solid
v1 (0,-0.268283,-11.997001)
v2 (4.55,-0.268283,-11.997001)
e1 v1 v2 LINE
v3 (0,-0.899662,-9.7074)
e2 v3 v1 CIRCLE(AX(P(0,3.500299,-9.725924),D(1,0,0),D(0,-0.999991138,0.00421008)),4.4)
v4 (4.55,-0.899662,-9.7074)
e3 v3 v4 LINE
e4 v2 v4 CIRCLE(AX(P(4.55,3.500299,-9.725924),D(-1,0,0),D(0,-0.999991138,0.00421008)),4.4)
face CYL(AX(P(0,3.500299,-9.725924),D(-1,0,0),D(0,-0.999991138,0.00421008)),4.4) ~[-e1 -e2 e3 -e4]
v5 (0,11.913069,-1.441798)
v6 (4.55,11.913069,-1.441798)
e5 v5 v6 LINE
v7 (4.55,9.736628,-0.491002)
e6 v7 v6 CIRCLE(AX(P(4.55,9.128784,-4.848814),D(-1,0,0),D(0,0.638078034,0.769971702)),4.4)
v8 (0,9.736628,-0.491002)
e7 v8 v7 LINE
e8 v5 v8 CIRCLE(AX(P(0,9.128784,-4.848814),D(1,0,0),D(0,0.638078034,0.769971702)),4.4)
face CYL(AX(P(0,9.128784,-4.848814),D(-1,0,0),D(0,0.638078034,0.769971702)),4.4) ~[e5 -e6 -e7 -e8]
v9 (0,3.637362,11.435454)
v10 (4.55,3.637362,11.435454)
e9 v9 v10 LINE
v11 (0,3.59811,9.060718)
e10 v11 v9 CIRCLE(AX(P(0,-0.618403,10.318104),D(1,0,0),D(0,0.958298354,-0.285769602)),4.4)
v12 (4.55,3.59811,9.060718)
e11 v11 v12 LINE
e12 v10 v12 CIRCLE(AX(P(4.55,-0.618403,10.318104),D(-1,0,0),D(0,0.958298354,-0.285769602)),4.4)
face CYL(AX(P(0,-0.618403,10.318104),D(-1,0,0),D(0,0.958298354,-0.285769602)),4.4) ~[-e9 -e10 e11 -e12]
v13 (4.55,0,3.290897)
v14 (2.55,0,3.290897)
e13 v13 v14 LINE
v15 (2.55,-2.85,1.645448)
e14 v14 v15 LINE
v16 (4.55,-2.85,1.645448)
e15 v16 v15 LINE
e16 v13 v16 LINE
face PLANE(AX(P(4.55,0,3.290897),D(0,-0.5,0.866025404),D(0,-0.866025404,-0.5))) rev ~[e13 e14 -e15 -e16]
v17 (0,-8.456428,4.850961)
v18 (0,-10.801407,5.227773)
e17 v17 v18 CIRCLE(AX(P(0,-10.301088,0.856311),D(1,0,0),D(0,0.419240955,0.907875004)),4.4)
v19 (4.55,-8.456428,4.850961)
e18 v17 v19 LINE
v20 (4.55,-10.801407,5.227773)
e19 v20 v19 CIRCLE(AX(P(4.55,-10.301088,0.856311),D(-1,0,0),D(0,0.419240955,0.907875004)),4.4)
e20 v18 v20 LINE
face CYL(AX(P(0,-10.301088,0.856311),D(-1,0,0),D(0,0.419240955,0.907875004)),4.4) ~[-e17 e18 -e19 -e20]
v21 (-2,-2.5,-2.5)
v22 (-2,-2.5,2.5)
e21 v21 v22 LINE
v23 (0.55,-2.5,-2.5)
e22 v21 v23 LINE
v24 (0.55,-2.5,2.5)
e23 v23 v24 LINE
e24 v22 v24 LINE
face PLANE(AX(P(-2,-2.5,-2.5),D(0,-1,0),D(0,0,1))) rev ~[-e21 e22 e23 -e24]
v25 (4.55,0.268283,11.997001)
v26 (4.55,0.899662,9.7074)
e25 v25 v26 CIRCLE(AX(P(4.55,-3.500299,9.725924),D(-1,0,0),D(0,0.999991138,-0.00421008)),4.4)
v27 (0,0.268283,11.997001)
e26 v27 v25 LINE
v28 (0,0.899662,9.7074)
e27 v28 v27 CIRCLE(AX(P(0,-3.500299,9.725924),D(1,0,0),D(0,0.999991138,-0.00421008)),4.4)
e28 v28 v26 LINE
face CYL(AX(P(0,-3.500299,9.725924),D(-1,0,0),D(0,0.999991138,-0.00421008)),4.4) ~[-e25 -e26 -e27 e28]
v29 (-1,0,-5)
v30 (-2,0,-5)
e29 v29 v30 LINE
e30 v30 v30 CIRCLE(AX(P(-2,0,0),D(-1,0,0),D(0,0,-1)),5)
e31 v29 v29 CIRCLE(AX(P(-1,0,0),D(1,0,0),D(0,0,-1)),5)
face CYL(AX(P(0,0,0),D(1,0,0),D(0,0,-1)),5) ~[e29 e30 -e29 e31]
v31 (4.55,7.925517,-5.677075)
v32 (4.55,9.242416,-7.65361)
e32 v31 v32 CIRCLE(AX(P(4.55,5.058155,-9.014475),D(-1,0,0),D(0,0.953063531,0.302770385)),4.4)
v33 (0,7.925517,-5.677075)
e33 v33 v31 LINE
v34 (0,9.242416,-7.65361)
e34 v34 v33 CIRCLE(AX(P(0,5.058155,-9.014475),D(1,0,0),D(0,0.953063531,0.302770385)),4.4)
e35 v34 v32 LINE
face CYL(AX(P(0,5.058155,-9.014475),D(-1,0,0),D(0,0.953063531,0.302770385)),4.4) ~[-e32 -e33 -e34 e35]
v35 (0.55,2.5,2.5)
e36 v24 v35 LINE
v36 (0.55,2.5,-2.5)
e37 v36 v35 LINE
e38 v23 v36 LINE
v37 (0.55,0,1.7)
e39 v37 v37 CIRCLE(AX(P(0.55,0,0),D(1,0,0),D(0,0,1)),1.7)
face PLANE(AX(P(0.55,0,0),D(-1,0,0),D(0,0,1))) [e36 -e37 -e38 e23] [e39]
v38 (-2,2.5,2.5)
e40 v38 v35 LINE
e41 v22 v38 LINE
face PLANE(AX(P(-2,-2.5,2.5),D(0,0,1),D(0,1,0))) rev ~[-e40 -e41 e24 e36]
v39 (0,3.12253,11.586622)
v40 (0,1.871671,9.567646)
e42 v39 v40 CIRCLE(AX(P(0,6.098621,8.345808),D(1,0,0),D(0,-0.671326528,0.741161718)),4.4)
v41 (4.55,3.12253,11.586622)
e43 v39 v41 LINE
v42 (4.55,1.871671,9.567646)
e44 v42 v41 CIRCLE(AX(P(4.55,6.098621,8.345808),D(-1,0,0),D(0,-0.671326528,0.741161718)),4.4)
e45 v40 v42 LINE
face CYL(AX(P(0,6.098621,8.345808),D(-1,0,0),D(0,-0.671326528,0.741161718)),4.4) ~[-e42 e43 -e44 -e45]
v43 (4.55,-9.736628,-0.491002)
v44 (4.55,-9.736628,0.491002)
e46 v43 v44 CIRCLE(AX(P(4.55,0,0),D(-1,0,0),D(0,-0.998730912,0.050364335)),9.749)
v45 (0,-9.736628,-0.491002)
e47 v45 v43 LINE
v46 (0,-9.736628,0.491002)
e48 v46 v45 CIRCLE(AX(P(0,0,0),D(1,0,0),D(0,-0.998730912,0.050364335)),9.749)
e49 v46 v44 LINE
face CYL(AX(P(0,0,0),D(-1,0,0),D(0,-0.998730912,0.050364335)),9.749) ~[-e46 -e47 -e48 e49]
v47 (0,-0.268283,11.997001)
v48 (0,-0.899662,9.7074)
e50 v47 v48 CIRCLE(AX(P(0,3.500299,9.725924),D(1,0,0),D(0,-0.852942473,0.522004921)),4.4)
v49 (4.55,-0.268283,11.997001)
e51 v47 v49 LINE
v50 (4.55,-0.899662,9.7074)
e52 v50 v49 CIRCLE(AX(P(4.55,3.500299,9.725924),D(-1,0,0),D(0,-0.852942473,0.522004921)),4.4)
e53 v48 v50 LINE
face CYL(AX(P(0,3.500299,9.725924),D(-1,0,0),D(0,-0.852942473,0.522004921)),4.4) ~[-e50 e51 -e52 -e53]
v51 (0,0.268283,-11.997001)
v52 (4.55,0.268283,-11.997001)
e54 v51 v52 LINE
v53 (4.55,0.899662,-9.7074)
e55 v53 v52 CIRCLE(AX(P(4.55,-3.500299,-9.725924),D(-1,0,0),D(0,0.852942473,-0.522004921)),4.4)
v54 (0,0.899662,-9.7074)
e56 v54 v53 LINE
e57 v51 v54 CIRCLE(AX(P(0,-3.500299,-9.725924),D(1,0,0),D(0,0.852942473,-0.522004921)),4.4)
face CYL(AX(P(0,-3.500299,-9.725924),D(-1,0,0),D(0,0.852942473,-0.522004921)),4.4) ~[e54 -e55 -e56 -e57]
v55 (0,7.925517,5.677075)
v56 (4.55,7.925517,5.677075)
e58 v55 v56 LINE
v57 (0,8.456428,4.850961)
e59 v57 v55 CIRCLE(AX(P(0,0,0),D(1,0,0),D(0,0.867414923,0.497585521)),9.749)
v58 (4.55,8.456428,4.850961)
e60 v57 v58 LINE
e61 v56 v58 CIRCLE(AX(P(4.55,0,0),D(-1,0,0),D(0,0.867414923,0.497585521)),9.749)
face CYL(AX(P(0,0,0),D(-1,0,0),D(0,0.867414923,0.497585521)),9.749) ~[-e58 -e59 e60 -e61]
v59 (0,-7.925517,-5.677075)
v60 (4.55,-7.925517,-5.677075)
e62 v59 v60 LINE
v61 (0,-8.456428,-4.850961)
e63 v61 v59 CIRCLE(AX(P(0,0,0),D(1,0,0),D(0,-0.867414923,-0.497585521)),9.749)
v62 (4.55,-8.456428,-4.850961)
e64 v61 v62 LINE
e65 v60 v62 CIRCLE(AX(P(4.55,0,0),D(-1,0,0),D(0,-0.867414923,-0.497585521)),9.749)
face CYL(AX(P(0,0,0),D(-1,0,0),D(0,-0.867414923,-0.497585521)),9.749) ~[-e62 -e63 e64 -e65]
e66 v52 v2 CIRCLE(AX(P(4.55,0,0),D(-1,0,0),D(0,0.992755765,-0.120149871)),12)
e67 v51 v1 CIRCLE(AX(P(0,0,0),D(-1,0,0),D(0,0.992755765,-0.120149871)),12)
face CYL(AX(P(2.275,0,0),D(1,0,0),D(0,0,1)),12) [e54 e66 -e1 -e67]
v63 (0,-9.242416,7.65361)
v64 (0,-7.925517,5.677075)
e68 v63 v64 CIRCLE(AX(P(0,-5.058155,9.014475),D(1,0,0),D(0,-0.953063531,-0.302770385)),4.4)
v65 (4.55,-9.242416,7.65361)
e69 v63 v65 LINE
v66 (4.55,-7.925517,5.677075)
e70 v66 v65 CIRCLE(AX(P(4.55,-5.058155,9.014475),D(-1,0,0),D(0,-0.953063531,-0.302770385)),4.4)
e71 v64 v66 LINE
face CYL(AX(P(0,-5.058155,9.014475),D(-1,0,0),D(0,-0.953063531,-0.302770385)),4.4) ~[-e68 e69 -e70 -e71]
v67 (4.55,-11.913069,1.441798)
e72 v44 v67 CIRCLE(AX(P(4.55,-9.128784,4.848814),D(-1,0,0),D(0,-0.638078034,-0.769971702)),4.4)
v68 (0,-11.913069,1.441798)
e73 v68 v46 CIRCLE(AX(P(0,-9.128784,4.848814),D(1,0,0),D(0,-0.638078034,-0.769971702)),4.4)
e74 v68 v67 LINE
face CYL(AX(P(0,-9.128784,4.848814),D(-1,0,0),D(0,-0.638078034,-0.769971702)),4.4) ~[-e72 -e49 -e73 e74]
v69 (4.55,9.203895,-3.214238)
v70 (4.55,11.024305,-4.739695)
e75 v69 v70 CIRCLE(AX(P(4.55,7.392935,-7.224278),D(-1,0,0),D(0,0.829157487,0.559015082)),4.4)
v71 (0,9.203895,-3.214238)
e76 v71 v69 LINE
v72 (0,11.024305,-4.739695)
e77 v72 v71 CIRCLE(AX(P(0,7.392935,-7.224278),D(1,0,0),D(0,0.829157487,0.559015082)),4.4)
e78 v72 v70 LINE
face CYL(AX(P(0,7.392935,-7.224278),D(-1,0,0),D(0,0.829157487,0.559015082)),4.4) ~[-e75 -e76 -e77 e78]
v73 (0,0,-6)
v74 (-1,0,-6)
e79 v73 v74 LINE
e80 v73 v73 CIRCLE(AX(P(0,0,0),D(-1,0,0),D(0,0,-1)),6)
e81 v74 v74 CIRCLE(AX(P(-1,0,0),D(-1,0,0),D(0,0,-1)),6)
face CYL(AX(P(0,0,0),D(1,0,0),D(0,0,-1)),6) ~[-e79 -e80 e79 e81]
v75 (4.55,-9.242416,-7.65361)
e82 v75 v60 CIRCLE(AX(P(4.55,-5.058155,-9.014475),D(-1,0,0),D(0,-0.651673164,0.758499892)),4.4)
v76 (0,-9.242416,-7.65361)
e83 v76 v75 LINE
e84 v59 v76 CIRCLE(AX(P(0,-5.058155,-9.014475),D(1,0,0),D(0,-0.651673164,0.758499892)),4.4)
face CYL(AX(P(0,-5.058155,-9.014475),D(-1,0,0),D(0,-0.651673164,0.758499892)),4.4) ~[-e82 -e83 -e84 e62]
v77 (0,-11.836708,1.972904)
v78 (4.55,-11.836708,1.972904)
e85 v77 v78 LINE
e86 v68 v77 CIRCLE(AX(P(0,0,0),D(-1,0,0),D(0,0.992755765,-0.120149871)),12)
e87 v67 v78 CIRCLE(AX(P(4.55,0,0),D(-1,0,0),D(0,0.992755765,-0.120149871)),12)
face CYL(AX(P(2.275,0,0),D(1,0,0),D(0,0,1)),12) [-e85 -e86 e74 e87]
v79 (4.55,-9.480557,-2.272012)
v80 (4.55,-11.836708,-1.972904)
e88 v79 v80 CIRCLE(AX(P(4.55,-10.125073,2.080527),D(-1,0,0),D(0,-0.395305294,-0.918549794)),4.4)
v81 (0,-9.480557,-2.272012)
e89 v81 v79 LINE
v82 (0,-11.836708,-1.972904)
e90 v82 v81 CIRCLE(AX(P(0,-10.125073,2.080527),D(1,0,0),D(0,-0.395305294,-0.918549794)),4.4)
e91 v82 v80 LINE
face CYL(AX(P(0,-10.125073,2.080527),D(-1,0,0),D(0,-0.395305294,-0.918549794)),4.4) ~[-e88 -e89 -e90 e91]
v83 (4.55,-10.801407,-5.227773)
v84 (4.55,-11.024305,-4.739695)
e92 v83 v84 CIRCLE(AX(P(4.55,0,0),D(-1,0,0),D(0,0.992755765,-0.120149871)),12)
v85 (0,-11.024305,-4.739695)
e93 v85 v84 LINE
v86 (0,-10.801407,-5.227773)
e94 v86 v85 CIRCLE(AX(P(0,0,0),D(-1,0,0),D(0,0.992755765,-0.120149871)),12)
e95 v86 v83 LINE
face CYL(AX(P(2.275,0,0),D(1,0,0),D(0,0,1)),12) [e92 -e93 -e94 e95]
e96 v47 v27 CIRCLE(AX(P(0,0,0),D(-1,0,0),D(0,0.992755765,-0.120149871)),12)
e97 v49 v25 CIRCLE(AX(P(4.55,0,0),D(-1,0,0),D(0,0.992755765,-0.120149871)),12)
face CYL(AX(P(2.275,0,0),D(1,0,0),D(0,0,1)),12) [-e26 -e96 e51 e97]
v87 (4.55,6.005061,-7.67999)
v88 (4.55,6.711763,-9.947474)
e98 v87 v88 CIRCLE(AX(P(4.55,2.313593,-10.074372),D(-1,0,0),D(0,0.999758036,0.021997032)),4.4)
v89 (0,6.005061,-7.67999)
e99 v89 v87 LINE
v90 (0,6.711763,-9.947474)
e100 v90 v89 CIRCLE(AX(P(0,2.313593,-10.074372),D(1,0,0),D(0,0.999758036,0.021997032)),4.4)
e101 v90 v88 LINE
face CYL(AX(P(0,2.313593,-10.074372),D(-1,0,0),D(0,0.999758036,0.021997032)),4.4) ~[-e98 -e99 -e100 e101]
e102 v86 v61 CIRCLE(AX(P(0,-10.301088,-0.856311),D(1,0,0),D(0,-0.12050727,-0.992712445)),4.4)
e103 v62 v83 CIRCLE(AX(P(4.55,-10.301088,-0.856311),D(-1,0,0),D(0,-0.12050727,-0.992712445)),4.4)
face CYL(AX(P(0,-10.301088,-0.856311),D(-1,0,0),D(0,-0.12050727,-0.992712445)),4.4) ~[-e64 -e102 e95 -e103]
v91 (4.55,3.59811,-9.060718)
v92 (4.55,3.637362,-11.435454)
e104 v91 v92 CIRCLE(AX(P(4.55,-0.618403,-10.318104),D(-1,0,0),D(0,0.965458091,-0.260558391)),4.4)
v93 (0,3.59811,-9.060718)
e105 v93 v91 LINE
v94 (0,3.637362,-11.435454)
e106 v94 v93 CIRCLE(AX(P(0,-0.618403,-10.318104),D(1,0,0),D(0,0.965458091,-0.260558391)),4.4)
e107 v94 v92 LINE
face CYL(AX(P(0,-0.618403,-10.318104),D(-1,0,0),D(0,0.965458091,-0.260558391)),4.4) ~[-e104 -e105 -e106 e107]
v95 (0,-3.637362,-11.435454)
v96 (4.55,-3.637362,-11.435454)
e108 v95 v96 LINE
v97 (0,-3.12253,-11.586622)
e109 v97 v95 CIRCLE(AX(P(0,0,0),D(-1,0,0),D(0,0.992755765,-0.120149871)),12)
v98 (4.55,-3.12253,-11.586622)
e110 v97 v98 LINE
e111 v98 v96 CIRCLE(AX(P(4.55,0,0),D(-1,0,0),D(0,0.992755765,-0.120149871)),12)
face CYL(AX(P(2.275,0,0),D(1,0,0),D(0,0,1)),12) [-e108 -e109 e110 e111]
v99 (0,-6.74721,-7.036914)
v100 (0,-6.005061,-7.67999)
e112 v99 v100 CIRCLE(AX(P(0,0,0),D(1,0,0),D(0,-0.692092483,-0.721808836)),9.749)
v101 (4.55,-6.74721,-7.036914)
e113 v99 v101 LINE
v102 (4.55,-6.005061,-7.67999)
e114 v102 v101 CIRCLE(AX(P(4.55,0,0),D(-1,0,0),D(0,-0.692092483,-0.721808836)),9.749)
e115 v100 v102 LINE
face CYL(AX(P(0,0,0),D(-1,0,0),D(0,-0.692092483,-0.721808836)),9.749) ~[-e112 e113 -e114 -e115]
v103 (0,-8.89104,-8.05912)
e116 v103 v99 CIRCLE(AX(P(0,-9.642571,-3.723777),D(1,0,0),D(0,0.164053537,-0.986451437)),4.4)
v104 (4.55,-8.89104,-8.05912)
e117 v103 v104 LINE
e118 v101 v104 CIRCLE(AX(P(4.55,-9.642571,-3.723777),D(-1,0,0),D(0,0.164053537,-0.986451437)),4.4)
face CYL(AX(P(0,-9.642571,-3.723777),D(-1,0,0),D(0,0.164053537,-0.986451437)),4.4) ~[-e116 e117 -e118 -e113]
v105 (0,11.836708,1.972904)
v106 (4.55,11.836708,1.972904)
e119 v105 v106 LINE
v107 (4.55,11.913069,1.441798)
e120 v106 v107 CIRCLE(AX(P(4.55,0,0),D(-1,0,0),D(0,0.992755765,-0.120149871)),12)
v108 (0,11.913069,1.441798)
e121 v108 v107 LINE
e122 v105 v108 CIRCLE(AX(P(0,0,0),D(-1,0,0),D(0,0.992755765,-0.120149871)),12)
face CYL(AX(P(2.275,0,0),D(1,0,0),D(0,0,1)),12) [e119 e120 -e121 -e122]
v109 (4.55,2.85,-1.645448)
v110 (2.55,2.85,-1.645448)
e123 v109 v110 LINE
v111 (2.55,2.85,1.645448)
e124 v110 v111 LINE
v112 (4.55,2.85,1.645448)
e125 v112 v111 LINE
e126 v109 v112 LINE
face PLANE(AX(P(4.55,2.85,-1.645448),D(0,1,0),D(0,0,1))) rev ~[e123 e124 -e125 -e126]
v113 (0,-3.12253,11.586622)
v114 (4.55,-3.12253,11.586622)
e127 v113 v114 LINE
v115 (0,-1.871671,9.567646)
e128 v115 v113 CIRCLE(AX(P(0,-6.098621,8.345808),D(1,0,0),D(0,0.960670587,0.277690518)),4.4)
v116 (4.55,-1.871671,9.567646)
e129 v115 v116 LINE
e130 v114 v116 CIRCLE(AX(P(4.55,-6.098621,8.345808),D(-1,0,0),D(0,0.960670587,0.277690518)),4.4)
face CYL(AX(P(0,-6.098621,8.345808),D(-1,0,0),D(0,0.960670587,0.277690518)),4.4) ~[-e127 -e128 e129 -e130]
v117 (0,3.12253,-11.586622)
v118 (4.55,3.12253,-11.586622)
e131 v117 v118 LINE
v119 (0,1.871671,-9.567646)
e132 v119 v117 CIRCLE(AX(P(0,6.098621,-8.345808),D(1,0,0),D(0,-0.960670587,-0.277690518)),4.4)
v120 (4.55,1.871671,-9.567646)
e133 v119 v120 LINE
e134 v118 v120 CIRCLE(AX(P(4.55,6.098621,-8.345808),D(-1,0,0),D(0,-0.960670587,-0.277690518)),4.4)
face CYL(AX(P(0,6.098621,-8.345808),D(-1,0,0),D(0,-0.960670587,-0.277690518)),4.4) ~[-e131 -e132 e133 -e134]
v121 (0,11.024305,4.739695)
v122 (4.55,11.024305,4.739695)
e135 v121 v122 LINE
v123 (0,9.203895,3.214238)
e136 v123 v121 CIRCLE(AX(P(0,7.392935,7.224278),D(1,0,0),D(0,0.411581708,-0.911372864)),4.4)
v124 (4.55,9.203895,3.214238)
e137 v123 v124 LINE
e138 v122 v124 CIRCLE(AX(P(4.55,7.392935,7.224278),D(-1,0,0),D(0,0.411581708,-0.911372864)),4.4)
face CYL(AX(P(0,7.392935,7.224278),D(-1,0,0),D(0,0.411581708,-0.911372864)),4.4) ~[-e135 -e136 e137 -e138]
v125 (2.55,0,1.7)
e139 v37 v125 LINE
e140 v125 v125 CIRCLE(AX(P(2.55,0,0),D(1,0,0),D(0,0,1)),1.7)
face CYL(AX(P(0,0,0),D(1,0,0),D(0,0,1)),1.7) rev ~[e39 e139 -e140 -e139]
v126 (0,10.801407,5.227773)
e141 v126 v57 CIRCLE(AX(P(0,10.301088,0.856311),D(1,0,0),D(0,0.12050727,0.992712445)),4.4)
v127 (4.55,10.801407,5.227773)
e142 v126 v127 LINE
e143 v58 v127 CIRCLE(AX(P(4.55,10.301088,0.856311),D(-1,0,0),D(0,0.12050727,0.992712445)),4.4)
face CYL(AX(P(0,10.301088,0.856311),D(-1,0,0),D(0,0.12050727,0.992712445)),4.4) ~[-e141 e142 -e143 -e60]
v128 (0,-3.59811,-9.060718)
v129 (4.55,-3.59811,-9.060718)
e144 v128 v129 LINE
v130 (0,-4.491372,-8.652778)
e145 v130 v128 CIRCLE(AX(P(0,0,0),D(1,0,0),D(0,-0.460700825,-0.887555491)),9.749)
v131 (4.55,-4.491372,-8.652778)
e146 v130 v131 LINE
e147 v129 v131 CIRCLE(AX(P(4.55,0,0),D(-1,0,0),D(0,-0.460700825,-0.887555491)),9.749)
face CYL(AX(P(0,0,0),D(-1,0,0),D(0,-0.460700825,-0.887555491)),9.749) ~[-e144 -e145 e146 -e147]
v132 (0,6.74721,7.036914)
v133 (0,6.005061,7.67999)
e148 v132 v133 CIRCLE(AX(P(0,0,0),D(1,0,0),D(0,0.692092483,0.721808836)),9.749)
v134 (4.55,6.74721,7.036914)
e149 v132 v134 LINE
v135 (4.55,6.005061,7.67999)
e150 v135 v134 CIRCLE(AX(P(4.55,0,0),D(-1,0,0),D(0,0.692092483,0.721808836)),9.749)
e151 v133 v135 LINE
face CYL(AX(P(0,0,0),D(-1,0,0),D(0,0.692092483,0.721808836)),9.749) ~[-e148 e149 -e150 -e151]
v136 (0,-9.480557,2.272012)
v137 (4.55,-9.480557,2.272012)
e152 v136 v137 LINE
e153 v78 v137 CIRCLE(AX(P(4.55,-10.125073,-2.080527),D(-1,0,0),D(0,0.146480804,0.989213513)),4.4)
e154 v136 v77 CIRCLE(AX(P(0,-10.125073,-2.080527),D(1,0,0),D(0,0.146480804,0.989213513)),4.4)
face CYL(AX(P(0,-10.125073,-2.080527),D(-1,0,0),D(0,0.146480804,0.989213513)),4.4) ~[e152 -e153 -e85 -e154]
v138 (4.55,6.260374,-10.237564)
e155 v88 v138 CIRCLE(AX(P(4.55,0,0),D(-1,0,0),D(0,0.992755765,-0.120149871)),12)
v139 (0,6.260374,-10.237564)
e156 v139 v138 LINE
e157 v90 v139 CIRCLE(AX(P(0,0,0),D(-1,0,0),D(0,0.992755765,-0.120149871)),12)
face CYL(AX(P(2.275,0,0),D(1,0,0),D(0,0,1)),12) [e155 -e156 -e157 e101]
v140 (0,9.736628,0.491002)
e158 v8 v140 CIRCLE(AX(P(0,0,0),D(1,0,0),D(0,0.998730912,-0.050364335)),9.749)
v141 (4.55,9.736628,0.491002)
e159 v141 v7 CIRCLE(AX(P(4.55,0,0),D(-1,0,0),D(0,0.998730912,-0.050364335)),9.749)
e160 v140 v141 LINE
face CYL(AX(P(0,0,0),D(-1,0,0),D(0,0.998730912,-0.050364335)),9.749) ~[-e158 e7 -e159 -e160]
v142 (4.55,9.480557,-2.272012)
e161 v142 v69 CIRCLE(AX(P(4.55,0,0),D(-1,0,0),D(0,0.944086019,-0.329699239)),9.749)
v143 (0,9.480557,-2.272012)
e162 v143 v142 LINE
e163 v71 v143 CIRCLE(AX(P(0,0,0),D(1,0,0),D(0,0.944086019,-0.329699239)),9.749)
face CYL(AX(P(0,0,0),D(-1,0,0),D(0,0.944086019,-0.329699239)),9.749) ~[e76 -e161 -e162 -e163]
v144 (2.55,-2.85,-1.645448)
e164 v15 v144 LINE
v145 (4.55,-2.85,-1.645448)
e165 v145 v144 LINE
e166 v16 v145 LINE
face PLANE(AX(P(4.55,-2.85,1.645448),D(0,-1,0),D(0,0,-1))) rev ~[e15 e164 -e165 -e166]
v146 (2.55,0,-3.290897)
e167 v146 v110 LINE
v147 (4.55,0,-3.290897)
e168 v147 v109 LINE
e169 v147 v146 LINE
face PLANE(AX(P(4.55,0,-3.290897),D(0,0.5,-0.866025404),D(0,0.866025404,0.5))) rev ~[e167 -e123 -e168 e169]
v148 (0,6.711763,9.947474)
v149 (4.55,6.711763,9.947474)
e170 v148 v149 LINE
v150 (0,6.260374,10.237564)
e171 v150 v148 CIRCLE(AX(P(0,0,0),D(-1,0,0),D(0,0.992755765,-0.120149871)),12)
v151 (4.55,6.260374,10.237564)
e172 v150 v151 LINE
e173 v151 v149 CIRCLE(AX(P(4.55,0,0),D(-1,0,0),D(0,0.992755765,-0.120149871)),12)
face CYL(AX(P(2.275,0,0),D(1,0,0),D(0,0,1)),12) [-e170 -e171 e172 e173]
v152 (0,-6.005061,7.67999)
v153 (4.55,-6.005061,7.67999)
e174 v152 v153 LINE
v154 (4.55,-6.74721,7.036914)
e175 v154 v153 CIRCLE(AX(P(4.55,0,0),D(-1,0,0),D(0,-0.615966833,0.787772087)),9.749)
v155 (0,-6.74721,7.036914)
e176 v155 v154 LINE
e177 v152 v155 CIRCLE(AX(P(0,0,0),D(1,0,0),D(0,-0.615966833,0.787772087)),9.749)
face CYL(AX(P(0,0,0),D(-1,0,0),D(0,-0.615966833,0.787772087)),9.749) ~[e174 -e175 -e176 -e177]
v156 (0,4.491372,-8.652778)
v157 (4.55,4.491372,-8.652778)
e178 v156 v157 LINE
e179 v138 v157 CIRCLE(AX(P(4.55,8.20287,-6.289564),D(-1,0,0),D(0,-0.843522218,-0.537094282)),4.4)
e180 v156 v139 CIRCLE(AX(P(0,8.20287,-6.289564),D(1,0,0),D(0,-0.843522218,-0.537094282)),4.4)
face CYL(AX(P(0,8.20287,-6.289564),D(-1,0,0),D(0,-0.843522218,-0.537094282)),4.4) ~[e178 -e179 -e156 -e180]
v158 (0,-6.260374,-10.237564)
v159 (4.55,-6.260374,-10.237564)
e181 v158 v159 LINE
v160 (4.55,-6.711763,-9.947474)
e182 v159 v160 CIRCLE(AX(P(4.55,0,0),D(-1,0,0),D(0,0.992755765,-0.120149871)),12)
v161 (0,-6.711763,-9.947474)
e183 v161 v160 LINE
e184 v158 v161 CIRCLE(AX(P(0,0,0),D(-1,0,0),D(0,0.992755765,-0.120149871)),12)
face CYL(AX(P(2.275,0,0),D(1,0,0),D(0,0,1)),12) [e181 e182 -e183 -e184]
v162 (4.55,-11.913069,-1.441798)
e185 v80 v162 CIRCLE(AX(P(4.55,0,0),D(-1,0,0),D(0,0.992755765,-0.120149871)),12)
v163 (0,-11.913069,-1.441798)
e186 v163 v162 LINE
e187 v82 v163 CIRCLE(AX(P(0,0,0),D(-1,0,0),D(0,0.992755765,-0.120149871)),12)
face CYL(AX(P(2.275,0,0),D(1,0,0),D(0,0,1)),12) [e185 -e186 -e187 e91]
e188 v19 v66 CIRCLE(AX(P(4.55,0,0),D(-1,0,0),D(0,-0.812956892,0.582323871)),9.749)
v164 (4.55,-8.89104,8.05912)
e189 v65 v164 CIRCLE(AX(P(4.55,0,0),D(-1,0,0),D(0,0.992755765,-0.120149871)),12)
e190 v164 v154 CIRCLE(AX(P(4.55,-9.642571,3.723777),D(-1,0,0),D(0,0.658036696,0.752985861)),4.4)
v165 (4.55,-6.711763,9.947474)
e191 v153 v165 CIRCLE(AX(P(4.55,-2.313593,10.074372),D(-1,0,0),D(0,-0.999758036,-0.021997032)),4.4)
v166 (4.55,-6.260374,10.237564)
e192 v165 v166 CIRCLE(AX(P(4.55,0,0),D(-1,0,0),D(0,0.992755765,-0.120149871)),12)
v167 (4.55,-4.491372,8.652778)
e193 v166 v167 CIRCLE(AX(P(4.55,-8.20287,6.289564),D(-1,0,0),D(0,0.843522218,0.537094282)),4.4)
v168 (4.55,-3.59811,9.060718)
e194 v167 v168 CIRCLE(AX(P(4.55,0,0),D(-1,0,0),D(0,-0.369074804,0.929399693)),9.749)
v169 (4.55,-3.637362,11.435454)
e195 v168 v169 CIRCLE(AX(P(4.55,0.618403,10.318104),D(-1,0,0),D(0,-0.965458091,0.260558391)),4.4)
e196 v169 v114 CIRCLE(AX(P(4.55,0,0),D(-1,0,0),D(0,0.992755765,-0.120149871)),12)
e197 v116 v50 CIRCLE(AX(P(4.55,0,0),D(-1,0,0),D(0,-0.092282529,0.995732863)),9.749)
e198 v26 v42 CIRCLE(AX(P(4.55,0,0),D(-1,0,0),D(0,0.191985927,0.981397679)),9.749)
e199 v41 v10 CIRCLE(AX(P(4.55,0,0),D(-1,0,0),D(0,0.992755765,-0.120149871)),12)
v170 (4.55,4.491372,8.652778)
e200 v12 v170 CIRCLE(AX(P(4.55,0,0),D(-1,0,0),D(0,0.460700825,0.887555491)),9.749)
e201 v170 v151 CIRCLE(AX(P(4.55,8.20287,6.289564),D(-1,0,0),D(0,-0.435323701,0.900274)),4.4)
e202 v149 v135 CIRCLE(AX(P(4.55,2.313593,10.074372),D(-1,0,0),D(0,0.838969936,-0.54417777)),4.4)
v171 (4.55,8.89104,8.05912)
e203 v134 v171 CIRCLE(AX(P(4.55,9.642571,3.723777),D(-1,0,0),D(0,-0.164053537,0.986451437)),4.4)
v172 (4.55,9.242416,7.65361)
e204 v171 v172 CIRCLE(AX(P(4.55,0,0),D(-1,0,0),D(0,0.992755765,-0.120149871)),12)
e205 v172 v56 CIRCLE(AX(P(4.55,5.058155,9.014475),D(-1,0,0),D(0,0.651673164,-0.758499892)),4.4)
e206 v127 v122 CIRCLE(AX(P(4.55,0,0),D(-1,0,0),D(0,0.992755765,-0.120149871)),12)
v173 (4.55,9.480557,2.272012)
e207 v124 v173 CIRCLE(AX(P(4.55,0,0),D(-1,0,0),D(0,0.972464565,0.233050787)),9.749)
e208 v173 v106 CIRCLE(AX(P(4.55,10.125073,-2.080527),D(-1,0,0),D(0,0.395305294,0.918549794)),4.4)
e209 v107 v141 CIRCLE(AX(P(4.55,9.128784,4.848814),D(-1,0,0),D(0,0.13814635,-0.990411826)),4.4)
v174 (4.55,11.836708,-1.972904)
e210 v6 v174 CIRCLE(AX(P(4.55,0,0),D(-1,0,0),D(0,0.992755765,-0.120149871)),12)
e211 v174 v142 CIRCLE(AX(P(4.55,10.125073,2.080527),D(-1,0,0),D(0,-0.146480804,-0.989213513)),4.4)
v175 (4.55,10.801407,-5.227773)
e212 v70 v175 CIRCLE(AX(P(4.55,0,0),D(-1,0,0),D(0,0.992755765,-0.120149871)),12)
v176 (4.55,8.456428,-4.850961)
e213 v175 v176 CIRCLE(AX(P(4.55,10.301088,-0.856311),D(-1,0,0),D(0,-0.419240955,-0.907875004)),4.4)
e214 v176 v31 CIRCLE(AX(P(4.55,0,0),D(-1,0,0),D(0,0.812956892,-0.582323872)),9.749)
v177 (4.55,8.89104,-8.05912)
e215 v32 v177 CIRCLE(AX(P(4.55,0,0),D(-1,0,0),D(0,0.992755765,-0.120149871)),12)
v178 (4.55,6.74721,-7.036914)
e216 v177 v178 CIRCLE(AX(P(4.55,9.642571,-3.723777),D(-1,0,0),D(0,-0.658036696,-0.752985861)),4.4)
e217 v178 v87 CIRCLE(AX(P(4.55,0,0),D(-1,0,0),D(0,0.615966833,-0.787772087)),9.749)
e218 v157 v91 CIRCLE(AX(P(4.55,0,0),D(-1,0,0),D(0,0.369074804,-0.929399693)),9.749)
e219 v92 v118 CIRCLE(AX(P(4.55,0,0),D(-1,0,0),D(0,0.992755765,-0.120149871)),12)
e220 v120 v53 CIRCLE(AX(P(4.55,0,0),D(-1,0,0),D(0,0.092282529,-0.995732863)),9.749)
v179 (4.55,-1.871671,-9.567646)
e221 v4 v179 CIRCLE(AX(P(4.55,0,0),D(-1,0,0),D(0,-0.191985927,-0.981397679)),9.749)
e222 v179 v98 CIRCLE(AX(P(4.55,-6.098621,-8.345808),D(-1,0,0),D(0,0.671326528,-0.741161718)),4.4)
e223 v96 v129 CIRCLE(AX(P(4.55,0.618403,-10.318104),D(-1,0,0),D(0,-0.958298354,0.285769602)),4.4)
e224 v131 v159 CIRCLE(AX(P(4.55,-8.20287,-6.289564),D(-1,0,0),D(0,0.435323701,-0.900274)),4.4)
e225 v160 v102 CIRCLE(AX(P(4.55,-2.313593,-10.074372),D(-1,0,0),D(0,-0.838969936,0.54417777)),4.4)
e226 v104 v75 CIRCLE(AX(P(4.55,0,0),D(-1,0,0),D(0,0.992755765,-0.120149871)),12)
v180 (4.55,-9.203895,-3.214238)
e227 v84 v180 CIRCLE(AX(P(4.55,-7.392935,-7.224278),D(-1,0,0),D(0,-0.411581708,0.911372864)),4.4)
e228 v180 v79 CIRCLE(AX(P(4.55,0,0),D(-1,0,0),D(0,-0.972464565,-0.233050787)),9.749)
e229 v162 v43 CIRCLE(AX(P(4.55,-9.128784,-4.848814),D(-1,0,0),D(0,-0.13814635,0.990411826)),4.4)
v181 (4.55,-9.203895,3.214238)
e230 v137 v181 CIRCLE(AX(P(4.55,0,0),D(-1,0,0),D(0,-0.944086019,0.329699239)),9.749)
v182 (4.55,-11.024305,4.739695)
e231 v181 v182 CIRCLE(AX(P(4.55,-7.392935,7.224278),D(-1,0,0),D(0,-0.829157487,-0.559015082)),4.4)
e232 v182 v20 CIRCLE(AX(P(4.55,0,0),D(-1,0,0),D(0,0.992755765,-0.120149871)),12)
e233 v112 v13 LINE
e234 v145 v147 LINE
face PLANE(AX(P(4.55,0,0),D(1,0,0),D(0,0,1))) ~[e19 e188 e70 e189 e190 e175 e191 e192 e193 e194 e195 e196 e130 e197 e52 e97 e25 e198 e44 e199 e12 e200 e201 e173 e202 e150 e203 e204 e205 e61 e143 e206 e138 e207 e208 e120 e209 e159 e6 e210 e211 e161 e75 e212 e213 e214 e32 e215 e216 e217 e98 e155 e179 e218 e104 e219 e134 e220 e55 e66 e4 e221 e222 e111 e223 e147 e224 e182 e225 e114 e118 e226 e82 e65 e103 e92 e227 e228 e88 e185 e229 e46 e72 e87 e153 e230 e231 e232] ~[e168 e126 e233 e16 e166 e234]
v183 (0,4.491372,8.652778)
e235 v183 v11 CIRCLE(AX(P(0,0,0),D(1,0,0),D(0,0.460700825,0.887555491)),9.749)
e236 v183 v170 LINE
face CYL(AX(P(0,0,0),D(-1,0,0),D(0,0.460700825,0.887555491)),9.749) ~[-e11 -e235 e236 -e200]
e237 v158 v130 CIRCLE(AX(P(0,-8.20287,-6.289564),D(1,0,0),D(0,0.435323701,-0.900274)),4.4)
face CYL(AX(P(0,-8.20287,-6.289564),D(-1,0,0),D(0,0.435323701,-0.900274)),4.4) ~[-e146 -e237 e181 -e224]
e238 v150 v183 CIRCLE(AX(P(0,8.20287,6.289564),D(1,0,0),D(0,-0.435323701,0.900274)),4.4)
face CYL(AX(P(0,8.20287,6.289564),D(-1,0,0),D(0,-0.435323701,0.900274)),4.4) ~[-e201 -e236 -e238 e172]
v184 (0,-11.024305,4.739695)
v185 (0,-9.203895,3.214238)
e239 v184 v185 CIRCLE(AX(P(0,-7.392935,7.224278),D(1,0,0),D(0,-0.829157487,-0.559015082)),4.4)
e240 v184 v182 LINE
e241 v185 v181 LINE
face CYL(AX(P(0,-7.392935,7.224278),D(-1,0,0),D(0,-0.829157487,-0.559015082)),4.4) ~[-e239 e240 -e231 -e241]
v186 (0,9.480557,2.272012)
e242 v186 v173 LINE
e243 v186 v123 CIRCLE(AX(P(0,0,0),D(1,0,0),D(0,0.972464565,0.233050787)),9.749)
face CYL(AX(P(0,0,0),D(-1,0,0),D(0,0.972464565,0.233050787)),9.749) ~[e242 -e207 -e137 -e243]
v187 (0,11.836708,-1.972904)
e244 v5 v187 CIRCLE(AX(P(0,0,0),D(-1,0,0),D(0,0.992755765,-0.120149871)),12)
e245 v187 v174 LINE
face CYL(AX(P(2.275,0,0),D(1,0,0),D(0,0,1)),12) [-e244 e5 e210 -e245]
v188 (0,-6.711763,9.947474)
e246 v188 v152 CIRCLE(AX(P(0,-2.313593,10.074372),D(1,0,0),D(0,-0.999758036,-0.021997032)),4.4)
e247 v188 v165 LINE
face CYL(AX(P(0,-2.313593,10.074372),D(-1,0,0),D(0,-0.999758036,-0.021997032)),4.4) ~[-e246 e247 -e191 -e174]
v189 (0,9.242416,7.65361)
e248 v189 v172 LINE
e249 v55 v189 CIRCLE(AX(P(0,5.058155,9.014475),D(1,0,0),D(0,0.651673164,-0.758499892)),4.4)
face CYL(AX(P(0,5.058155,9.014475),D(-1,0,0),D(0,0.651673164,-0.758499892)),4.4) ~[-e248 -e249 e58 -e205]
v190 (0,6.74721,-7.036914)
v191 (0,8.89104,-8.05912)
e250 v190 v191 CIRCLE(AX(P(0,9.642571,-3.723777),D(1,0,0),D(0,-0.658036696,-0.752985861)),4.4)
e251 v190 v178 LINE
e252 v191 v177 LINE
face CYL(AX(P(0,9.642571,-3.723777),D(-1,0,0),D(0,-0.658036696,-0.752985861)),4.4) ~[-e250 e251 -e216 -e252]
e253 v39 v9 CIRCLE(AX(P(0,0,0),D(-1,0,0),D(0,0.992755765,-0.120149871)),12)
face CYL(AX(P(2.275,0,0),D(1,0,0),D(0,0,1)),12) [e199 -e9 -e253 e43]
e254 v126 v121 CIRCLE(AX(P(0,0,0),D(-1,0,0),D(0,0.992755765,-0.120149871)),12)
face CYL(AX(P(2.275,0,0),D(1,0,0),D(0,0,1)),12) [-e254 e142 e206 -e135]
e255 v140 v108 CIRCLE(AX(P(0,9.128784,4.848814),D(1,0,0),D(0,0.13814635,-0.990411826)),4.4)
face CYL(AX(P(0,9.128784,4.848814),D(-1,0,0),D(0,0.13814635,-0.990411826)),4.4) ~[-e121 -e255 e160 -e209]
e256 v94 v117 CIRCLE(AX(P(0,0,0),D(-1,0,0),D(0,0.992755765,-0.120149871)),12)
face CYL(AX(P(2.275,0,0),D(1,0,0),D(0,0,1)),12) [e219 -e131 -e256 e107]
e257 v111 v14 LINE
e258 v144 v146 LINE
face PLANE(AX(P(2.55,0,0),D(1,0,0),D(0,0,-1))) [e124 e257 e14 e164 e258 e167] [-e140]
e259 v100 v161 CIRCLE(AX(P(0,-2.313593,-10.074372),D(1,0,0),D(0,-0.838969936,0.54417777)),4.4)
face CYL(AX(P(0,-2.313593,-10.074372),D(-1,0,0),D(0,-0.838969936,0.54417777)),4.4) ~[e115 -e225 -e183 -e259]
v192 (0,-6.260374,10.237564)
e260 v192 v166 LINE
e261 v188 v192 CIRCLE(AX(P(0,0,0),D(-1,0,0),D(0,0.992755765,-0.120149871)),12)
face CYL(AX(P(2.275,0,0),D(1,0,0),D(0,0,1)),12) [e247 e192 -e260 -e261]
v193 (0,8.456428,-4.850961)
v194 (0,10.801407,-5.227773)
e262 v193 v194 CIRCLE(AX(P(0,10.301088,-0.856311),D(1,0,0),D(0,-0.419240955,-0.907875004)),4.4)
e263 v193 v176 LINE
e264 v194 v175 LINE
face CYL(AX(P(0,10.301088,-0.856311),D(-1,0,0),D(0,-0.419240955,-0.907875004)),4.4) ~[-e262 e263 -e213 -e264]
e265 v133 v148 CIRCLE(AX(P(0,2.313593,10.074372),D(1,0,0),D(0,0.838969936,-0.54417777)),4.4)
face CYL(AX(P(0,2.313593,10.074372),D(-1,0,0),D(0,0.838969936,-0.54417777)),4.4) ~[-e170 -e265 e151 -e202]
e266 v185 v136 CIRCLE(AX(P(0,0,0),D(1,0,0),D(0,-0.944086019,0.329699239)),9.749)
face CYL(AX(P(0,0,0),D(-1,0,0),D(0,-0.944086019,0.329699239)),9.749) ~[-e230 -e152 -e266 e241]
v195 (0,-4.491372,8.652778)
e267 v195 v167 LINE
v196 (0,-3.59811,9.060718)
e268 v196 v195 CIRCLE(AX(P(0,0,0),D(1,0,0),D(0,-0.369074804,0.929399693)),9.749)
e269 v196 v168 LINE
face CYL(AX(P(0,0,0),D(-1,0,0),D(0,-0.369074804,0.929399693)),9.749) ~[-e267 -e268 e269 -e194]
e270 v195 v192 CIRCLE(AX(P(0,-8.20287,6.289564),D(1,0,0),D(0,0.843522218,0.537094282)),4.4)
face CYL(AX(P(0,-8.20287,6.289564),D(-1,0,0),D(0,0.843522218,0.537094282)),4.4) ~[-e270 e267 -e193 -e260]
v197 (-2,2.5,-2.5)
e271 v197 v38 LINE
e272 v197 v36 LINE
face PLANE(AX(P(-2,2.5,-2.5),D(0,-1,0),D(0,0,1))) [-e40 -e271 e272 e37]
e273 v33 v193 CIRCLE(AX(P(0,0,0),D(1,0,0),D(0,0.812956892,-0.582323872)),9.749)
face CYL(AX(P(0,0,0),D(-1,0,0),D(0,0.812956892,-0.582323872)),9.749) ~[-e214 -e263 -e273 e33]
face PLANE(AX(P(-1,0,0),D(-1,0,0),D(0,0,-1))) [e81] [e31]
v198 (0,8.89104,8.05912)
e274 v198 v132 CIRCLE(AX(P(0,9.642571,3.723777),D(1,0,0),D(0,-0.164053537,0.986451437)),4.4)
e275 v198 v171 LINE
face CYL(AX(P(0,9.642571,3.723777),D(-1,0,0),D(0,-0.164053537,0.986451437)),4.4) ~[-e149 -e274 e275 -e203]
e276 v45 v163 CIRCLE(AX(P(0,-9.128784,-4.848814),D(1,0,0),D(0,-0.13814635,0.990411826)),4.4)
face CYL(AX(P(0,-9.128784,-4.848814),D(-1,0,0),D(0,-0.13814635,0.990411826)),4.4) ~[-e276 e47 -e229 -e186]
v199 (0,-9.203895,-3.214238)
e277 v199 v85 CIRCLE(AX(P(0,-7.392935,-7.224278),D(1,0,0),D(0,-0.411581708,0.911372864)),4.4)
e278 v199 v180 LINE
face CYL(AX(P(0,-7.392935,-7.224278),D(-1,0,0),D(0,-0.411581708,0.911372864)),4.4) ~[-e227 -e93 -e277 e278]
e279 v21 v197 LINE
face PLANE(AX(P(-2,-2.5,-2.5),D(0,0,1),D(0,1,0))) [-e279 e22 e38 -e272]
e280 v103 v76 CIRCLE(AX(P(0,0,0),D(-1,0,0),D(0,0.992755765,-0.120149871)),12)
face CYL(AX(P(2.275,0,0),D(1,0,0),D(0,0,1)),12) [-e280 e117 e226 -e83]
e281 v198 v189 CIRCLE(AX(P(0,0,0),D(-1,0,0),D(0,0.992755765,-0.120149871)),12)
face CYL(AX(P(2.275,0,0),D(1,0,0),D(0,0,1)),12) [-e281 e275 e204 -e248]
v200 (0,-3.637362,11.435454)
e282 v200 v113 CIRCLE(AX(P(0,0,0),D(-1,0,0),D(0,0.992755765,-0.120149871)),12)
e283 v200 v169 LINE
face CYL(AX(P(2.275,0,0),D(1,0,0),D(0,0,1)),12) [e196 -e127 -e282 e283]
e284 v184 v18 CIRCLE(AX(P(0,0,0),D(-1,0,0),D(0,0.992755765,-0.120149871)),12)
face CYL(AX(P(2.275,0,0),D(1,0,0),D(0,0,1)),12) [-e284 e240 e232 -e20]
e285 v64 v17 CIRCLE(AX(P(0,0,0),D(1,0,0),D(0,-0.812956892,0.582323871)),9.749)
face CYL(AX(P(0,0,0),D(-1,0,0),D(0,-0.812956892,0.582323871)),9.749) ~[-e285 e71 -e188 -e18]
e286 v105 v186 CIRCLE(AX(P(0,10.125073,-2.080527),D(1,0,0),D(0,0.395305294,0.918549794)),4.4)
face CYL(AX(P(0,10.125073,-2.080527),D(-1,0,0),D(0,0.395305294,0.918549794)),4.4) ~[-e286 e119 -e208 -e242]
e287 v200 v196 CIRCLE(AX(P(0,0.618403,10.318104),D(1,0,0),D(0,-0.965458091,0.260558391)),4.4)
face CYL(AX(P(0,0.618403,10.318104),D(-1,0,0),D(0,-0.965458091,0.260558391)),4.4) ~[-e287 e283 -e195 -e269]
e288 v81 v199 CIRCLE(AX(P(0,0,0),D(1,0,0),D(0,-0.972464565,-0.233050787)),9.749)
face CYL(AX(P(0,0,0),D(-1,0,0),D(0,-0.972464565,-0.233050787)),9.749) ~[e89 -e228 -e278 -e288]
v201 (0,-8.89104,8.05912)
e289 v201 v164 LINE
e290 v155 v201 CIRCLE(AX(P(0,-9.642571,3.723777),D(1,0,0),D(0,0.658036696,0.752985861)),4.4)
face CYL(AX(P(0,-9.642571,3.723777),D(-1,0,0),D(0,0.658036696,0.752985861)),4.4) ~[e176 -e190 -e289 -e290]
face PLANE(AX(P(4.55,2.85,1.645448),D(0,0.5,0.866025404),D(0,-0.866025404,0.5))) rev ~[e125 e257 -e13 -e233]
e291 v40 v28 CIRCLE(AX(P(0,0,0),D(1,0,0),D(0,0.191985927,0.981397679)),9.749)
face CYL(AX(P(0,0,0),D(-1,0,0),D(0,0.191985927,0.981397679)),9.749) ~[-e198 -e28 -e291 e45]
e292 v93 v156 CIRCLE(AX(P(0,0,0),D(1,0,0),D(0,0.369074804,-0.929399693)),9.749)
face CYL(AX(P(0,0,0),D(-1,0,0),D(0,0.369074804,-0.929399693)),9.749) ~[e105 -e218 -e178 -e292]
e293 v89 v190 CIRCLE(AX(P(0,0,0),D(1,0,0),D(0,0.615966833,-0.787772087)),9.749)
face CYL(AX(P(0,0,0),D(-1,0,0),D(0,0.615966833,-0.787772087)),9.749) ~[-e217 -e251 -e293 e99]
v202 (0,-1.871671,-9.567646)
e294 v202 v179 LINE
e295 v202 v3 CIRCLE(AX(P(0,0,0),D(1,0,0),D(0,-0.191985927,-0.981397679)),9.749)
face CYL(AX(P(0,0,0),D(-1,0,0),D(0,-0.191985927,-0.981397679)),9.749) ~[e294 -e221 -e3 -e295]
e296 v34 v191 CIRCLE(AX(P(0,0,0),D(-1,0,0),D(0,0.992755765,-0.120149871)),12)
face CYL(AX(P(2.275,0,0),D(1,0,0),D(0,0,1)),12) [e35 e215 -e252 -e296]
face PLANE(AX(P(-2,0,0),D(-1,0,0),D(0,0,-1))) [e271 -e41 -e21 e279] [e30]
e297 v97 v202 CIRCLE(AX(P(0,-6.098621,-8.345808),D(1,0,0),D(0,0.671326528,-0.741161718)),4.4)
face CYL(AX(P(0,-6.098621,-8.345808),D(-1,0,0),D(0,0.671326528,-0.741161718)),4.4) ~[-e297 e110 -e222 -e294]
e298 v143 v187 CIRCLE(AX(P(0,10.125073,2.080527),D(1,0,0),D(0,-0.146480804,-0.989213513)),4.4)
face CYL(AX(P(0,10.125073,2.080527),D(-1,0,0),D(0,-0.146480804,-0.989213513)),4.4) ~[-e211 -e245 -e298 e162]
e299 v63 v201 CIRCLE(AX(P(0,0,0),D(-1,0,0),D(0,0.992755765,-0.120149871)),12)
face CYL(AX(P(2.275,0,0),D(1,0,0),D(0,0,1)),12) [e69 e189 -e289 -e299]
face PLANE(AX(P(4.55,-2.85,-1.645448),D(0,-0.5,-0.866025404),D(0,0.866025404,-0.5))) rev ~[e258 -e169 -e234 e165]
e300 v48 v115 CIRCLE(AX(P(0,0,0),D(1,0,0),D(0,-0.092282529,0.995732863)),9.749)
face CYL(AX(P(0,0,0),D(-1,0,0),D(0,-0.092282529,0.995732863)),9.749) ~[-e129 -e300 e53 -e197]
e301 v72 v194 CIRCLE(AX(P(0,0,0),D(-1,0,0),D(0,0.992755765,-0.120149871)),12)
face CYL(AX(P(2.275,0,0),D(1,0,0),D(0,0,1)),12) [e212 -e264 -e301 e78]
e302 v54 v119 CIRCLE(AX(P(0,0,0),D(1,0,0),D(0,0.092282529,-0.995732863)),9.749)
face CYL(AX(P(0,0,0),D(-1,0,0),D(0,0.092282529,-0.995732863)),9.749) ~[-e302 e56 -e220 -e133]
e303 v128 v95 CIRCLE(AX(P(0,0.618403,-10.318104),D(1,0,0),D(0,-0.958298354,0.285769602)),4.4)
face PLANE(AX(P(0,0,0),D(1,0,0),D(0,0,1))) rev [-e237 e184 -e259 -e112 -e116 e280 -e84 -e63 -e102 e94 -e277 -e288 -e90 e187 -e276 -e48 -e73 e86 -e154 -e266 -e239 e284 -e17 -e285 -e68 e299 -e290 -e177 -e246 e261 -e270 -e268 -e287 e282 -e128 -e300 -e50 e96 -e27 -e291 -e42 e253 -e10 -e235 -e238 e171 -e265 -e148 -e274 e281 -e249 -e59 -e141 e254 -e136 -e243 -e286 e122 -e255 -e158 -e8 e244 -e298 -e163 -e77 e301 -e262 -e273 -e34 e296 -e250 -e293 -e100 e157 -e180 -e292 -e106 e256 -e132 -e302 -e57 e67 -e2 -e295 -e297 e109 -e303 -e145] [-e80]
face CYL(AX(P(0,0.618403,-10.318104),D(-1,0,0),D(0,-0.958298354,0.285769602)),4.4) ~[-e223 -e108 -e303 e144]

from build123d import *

# Parameters (mm, degrees)
BASPROSKE_W         = 4.55
BASPROSKE_H         = 12
TOOTHCUT_DEPTH      = 18.569931702
TEETHCUTS_COUNT     = 22
TEETHCUTS_ANGLE     = 343.636363636
BORSKE_R            = 1.7
BORE_DEPTH          = 50.0000508
SKETCH1_R           = 5
BOSS_EXTRUDE1_DEPTH = 2
CUT_EXTRUDE1_START  = 2
SKETCH1_2_W         = 5
SKETCH1_2_H         = 5
CUT_EXTRUDE1_DEPTH  = 2.55
SKETCH1_4_R         = 6
SKETCH1_4_R_2       = 5
BOSS_EXTRUDE2_DEPTH = 1
CUT_EXTRUDE2_DEPTH  = 2


with BuildPart() as part:
    # BasProSke → Base-Revolve (revolve)
    with BuildSketch(Plane(origin=(0, 0, 0), x_dir=(1, 0, 0), z_dir=(0, 1, 0)), mode=Mode.PRIVATE) as base_revolve_sk:
        with Locations((2.275, 6)):
            Rectangle(BASPROSKE_W, BASPROSKE_H)
    revolve(base_revolve_sk.sketch.rotate(Axis((-10, 0, 0), (1, 0, 0)), 180), axis=Axis((-10, 0, 0), (1, 0, 0)))

    # TooCutSke → ToothCut (cut, through all)
    with BuildSketch(Plane(origin=(0, 0, 0), x_dir=(0, 0, -1), z_dir=(1, 0, 0))):
        with BuildLine():
            ThreePointArc((0.491001901, 9.736627657), (0, 9.749), (-0.491001901, 9.736627657))
            ThreePointArc((-0.491001901, 9.736627657), (-0.822824844, 10.904005344), (-1.46093845, 11.936327074))
            ThreePointArc((-1.46093845, 11.936327074), (0, 12.0254), (1.46093845, 11.936327074))
            ThreePointArc((1.46093845, 11.936327074), (0.822824844, 10.904005344), (0.491001901, 9.736627657))
        make_face()
    toothcut = extrude(amount=TOOTHCUT_DEPTH, mode=Mode.SUBTRACT)

    # TeethCuts: ToothCut ×22 about axis
    teethcuts_axis = Axis((-10, 0, 0), (1, 0, 0))
    for i in range(1, TEETHCUTS_COUNT):
        add(toothcut.rotate(teethcuts_axis, i * TEETHCUTS_ANGLE / (TEETHCUTS_COUNT - 1)), mode=Mode.SUBTRACT)

    # BorSke → Bore (cut, symmetric)
    with BuildSketch(Plane(origin=(0, 0, 0), x_dir=(0, 0, -1), z_dir=(1, 0, 0))):
        with Locations(Location((0, 0, 0), (0, 0, 180))):
            Circle(BORSKE_R)
    extrude(amount=BORE_DEPTH, both=True, mode=Mode.SUBTRACT)

    # Sketch1 → Boss-Extrude1 (add)
    with BuildSketch(Plane.ZY):
        with Locations(Location((0, 0, 0), (0, 0, 180))):
            Circle(SKETCH1_R)
    extrude(amount=BOSS_EXTRUDE1_DEPTH)

    # Sketch1<2> → Cut-Extrude1 (cut)
    with BuildSketch(Plane.ZY.offset(CUT_EXTRUDE1_START)):
        Rectangle(SKETCH1_2_W, SKETCH1_2_H)
    extrude(amount=-CUT_EXTRUDE1_DEPTH, mode=Mode.SUBTRACT)

    # Sketch1<4> → Boss-Extrude2 (add)
    with BuildSketch(Plane.ZY):
        with Locations(Location((0, 0, 0), (0, 0, 180))):
            Circle(SKETCH1_4_R)
        Circle(SKETCH1_4_R_2, mode=Mode.SUBTRACT)
    extrude(amount=BOSS_EXTRUDE2_DEPTH)

    # Sketch2 → Cut-Extrude2 (cut)
    with BuildSketch(Plane(origin=(4.55, 0, 0), x_dir=(0, 0, -1), z_dir=(1, 0, 0))):
        Polygon((1.645448267, 2.85), (-1.645448267, 2.85), (-3.290896534, 0), (-1.645448267, -2.85), (1.645448267, -2.85), (3.290896534, 0), align=None)
    extrude(amount=-CUT_EXTRUDE2_DEPTH, mode=Mode.SUBTRACT)


solid = part.part
